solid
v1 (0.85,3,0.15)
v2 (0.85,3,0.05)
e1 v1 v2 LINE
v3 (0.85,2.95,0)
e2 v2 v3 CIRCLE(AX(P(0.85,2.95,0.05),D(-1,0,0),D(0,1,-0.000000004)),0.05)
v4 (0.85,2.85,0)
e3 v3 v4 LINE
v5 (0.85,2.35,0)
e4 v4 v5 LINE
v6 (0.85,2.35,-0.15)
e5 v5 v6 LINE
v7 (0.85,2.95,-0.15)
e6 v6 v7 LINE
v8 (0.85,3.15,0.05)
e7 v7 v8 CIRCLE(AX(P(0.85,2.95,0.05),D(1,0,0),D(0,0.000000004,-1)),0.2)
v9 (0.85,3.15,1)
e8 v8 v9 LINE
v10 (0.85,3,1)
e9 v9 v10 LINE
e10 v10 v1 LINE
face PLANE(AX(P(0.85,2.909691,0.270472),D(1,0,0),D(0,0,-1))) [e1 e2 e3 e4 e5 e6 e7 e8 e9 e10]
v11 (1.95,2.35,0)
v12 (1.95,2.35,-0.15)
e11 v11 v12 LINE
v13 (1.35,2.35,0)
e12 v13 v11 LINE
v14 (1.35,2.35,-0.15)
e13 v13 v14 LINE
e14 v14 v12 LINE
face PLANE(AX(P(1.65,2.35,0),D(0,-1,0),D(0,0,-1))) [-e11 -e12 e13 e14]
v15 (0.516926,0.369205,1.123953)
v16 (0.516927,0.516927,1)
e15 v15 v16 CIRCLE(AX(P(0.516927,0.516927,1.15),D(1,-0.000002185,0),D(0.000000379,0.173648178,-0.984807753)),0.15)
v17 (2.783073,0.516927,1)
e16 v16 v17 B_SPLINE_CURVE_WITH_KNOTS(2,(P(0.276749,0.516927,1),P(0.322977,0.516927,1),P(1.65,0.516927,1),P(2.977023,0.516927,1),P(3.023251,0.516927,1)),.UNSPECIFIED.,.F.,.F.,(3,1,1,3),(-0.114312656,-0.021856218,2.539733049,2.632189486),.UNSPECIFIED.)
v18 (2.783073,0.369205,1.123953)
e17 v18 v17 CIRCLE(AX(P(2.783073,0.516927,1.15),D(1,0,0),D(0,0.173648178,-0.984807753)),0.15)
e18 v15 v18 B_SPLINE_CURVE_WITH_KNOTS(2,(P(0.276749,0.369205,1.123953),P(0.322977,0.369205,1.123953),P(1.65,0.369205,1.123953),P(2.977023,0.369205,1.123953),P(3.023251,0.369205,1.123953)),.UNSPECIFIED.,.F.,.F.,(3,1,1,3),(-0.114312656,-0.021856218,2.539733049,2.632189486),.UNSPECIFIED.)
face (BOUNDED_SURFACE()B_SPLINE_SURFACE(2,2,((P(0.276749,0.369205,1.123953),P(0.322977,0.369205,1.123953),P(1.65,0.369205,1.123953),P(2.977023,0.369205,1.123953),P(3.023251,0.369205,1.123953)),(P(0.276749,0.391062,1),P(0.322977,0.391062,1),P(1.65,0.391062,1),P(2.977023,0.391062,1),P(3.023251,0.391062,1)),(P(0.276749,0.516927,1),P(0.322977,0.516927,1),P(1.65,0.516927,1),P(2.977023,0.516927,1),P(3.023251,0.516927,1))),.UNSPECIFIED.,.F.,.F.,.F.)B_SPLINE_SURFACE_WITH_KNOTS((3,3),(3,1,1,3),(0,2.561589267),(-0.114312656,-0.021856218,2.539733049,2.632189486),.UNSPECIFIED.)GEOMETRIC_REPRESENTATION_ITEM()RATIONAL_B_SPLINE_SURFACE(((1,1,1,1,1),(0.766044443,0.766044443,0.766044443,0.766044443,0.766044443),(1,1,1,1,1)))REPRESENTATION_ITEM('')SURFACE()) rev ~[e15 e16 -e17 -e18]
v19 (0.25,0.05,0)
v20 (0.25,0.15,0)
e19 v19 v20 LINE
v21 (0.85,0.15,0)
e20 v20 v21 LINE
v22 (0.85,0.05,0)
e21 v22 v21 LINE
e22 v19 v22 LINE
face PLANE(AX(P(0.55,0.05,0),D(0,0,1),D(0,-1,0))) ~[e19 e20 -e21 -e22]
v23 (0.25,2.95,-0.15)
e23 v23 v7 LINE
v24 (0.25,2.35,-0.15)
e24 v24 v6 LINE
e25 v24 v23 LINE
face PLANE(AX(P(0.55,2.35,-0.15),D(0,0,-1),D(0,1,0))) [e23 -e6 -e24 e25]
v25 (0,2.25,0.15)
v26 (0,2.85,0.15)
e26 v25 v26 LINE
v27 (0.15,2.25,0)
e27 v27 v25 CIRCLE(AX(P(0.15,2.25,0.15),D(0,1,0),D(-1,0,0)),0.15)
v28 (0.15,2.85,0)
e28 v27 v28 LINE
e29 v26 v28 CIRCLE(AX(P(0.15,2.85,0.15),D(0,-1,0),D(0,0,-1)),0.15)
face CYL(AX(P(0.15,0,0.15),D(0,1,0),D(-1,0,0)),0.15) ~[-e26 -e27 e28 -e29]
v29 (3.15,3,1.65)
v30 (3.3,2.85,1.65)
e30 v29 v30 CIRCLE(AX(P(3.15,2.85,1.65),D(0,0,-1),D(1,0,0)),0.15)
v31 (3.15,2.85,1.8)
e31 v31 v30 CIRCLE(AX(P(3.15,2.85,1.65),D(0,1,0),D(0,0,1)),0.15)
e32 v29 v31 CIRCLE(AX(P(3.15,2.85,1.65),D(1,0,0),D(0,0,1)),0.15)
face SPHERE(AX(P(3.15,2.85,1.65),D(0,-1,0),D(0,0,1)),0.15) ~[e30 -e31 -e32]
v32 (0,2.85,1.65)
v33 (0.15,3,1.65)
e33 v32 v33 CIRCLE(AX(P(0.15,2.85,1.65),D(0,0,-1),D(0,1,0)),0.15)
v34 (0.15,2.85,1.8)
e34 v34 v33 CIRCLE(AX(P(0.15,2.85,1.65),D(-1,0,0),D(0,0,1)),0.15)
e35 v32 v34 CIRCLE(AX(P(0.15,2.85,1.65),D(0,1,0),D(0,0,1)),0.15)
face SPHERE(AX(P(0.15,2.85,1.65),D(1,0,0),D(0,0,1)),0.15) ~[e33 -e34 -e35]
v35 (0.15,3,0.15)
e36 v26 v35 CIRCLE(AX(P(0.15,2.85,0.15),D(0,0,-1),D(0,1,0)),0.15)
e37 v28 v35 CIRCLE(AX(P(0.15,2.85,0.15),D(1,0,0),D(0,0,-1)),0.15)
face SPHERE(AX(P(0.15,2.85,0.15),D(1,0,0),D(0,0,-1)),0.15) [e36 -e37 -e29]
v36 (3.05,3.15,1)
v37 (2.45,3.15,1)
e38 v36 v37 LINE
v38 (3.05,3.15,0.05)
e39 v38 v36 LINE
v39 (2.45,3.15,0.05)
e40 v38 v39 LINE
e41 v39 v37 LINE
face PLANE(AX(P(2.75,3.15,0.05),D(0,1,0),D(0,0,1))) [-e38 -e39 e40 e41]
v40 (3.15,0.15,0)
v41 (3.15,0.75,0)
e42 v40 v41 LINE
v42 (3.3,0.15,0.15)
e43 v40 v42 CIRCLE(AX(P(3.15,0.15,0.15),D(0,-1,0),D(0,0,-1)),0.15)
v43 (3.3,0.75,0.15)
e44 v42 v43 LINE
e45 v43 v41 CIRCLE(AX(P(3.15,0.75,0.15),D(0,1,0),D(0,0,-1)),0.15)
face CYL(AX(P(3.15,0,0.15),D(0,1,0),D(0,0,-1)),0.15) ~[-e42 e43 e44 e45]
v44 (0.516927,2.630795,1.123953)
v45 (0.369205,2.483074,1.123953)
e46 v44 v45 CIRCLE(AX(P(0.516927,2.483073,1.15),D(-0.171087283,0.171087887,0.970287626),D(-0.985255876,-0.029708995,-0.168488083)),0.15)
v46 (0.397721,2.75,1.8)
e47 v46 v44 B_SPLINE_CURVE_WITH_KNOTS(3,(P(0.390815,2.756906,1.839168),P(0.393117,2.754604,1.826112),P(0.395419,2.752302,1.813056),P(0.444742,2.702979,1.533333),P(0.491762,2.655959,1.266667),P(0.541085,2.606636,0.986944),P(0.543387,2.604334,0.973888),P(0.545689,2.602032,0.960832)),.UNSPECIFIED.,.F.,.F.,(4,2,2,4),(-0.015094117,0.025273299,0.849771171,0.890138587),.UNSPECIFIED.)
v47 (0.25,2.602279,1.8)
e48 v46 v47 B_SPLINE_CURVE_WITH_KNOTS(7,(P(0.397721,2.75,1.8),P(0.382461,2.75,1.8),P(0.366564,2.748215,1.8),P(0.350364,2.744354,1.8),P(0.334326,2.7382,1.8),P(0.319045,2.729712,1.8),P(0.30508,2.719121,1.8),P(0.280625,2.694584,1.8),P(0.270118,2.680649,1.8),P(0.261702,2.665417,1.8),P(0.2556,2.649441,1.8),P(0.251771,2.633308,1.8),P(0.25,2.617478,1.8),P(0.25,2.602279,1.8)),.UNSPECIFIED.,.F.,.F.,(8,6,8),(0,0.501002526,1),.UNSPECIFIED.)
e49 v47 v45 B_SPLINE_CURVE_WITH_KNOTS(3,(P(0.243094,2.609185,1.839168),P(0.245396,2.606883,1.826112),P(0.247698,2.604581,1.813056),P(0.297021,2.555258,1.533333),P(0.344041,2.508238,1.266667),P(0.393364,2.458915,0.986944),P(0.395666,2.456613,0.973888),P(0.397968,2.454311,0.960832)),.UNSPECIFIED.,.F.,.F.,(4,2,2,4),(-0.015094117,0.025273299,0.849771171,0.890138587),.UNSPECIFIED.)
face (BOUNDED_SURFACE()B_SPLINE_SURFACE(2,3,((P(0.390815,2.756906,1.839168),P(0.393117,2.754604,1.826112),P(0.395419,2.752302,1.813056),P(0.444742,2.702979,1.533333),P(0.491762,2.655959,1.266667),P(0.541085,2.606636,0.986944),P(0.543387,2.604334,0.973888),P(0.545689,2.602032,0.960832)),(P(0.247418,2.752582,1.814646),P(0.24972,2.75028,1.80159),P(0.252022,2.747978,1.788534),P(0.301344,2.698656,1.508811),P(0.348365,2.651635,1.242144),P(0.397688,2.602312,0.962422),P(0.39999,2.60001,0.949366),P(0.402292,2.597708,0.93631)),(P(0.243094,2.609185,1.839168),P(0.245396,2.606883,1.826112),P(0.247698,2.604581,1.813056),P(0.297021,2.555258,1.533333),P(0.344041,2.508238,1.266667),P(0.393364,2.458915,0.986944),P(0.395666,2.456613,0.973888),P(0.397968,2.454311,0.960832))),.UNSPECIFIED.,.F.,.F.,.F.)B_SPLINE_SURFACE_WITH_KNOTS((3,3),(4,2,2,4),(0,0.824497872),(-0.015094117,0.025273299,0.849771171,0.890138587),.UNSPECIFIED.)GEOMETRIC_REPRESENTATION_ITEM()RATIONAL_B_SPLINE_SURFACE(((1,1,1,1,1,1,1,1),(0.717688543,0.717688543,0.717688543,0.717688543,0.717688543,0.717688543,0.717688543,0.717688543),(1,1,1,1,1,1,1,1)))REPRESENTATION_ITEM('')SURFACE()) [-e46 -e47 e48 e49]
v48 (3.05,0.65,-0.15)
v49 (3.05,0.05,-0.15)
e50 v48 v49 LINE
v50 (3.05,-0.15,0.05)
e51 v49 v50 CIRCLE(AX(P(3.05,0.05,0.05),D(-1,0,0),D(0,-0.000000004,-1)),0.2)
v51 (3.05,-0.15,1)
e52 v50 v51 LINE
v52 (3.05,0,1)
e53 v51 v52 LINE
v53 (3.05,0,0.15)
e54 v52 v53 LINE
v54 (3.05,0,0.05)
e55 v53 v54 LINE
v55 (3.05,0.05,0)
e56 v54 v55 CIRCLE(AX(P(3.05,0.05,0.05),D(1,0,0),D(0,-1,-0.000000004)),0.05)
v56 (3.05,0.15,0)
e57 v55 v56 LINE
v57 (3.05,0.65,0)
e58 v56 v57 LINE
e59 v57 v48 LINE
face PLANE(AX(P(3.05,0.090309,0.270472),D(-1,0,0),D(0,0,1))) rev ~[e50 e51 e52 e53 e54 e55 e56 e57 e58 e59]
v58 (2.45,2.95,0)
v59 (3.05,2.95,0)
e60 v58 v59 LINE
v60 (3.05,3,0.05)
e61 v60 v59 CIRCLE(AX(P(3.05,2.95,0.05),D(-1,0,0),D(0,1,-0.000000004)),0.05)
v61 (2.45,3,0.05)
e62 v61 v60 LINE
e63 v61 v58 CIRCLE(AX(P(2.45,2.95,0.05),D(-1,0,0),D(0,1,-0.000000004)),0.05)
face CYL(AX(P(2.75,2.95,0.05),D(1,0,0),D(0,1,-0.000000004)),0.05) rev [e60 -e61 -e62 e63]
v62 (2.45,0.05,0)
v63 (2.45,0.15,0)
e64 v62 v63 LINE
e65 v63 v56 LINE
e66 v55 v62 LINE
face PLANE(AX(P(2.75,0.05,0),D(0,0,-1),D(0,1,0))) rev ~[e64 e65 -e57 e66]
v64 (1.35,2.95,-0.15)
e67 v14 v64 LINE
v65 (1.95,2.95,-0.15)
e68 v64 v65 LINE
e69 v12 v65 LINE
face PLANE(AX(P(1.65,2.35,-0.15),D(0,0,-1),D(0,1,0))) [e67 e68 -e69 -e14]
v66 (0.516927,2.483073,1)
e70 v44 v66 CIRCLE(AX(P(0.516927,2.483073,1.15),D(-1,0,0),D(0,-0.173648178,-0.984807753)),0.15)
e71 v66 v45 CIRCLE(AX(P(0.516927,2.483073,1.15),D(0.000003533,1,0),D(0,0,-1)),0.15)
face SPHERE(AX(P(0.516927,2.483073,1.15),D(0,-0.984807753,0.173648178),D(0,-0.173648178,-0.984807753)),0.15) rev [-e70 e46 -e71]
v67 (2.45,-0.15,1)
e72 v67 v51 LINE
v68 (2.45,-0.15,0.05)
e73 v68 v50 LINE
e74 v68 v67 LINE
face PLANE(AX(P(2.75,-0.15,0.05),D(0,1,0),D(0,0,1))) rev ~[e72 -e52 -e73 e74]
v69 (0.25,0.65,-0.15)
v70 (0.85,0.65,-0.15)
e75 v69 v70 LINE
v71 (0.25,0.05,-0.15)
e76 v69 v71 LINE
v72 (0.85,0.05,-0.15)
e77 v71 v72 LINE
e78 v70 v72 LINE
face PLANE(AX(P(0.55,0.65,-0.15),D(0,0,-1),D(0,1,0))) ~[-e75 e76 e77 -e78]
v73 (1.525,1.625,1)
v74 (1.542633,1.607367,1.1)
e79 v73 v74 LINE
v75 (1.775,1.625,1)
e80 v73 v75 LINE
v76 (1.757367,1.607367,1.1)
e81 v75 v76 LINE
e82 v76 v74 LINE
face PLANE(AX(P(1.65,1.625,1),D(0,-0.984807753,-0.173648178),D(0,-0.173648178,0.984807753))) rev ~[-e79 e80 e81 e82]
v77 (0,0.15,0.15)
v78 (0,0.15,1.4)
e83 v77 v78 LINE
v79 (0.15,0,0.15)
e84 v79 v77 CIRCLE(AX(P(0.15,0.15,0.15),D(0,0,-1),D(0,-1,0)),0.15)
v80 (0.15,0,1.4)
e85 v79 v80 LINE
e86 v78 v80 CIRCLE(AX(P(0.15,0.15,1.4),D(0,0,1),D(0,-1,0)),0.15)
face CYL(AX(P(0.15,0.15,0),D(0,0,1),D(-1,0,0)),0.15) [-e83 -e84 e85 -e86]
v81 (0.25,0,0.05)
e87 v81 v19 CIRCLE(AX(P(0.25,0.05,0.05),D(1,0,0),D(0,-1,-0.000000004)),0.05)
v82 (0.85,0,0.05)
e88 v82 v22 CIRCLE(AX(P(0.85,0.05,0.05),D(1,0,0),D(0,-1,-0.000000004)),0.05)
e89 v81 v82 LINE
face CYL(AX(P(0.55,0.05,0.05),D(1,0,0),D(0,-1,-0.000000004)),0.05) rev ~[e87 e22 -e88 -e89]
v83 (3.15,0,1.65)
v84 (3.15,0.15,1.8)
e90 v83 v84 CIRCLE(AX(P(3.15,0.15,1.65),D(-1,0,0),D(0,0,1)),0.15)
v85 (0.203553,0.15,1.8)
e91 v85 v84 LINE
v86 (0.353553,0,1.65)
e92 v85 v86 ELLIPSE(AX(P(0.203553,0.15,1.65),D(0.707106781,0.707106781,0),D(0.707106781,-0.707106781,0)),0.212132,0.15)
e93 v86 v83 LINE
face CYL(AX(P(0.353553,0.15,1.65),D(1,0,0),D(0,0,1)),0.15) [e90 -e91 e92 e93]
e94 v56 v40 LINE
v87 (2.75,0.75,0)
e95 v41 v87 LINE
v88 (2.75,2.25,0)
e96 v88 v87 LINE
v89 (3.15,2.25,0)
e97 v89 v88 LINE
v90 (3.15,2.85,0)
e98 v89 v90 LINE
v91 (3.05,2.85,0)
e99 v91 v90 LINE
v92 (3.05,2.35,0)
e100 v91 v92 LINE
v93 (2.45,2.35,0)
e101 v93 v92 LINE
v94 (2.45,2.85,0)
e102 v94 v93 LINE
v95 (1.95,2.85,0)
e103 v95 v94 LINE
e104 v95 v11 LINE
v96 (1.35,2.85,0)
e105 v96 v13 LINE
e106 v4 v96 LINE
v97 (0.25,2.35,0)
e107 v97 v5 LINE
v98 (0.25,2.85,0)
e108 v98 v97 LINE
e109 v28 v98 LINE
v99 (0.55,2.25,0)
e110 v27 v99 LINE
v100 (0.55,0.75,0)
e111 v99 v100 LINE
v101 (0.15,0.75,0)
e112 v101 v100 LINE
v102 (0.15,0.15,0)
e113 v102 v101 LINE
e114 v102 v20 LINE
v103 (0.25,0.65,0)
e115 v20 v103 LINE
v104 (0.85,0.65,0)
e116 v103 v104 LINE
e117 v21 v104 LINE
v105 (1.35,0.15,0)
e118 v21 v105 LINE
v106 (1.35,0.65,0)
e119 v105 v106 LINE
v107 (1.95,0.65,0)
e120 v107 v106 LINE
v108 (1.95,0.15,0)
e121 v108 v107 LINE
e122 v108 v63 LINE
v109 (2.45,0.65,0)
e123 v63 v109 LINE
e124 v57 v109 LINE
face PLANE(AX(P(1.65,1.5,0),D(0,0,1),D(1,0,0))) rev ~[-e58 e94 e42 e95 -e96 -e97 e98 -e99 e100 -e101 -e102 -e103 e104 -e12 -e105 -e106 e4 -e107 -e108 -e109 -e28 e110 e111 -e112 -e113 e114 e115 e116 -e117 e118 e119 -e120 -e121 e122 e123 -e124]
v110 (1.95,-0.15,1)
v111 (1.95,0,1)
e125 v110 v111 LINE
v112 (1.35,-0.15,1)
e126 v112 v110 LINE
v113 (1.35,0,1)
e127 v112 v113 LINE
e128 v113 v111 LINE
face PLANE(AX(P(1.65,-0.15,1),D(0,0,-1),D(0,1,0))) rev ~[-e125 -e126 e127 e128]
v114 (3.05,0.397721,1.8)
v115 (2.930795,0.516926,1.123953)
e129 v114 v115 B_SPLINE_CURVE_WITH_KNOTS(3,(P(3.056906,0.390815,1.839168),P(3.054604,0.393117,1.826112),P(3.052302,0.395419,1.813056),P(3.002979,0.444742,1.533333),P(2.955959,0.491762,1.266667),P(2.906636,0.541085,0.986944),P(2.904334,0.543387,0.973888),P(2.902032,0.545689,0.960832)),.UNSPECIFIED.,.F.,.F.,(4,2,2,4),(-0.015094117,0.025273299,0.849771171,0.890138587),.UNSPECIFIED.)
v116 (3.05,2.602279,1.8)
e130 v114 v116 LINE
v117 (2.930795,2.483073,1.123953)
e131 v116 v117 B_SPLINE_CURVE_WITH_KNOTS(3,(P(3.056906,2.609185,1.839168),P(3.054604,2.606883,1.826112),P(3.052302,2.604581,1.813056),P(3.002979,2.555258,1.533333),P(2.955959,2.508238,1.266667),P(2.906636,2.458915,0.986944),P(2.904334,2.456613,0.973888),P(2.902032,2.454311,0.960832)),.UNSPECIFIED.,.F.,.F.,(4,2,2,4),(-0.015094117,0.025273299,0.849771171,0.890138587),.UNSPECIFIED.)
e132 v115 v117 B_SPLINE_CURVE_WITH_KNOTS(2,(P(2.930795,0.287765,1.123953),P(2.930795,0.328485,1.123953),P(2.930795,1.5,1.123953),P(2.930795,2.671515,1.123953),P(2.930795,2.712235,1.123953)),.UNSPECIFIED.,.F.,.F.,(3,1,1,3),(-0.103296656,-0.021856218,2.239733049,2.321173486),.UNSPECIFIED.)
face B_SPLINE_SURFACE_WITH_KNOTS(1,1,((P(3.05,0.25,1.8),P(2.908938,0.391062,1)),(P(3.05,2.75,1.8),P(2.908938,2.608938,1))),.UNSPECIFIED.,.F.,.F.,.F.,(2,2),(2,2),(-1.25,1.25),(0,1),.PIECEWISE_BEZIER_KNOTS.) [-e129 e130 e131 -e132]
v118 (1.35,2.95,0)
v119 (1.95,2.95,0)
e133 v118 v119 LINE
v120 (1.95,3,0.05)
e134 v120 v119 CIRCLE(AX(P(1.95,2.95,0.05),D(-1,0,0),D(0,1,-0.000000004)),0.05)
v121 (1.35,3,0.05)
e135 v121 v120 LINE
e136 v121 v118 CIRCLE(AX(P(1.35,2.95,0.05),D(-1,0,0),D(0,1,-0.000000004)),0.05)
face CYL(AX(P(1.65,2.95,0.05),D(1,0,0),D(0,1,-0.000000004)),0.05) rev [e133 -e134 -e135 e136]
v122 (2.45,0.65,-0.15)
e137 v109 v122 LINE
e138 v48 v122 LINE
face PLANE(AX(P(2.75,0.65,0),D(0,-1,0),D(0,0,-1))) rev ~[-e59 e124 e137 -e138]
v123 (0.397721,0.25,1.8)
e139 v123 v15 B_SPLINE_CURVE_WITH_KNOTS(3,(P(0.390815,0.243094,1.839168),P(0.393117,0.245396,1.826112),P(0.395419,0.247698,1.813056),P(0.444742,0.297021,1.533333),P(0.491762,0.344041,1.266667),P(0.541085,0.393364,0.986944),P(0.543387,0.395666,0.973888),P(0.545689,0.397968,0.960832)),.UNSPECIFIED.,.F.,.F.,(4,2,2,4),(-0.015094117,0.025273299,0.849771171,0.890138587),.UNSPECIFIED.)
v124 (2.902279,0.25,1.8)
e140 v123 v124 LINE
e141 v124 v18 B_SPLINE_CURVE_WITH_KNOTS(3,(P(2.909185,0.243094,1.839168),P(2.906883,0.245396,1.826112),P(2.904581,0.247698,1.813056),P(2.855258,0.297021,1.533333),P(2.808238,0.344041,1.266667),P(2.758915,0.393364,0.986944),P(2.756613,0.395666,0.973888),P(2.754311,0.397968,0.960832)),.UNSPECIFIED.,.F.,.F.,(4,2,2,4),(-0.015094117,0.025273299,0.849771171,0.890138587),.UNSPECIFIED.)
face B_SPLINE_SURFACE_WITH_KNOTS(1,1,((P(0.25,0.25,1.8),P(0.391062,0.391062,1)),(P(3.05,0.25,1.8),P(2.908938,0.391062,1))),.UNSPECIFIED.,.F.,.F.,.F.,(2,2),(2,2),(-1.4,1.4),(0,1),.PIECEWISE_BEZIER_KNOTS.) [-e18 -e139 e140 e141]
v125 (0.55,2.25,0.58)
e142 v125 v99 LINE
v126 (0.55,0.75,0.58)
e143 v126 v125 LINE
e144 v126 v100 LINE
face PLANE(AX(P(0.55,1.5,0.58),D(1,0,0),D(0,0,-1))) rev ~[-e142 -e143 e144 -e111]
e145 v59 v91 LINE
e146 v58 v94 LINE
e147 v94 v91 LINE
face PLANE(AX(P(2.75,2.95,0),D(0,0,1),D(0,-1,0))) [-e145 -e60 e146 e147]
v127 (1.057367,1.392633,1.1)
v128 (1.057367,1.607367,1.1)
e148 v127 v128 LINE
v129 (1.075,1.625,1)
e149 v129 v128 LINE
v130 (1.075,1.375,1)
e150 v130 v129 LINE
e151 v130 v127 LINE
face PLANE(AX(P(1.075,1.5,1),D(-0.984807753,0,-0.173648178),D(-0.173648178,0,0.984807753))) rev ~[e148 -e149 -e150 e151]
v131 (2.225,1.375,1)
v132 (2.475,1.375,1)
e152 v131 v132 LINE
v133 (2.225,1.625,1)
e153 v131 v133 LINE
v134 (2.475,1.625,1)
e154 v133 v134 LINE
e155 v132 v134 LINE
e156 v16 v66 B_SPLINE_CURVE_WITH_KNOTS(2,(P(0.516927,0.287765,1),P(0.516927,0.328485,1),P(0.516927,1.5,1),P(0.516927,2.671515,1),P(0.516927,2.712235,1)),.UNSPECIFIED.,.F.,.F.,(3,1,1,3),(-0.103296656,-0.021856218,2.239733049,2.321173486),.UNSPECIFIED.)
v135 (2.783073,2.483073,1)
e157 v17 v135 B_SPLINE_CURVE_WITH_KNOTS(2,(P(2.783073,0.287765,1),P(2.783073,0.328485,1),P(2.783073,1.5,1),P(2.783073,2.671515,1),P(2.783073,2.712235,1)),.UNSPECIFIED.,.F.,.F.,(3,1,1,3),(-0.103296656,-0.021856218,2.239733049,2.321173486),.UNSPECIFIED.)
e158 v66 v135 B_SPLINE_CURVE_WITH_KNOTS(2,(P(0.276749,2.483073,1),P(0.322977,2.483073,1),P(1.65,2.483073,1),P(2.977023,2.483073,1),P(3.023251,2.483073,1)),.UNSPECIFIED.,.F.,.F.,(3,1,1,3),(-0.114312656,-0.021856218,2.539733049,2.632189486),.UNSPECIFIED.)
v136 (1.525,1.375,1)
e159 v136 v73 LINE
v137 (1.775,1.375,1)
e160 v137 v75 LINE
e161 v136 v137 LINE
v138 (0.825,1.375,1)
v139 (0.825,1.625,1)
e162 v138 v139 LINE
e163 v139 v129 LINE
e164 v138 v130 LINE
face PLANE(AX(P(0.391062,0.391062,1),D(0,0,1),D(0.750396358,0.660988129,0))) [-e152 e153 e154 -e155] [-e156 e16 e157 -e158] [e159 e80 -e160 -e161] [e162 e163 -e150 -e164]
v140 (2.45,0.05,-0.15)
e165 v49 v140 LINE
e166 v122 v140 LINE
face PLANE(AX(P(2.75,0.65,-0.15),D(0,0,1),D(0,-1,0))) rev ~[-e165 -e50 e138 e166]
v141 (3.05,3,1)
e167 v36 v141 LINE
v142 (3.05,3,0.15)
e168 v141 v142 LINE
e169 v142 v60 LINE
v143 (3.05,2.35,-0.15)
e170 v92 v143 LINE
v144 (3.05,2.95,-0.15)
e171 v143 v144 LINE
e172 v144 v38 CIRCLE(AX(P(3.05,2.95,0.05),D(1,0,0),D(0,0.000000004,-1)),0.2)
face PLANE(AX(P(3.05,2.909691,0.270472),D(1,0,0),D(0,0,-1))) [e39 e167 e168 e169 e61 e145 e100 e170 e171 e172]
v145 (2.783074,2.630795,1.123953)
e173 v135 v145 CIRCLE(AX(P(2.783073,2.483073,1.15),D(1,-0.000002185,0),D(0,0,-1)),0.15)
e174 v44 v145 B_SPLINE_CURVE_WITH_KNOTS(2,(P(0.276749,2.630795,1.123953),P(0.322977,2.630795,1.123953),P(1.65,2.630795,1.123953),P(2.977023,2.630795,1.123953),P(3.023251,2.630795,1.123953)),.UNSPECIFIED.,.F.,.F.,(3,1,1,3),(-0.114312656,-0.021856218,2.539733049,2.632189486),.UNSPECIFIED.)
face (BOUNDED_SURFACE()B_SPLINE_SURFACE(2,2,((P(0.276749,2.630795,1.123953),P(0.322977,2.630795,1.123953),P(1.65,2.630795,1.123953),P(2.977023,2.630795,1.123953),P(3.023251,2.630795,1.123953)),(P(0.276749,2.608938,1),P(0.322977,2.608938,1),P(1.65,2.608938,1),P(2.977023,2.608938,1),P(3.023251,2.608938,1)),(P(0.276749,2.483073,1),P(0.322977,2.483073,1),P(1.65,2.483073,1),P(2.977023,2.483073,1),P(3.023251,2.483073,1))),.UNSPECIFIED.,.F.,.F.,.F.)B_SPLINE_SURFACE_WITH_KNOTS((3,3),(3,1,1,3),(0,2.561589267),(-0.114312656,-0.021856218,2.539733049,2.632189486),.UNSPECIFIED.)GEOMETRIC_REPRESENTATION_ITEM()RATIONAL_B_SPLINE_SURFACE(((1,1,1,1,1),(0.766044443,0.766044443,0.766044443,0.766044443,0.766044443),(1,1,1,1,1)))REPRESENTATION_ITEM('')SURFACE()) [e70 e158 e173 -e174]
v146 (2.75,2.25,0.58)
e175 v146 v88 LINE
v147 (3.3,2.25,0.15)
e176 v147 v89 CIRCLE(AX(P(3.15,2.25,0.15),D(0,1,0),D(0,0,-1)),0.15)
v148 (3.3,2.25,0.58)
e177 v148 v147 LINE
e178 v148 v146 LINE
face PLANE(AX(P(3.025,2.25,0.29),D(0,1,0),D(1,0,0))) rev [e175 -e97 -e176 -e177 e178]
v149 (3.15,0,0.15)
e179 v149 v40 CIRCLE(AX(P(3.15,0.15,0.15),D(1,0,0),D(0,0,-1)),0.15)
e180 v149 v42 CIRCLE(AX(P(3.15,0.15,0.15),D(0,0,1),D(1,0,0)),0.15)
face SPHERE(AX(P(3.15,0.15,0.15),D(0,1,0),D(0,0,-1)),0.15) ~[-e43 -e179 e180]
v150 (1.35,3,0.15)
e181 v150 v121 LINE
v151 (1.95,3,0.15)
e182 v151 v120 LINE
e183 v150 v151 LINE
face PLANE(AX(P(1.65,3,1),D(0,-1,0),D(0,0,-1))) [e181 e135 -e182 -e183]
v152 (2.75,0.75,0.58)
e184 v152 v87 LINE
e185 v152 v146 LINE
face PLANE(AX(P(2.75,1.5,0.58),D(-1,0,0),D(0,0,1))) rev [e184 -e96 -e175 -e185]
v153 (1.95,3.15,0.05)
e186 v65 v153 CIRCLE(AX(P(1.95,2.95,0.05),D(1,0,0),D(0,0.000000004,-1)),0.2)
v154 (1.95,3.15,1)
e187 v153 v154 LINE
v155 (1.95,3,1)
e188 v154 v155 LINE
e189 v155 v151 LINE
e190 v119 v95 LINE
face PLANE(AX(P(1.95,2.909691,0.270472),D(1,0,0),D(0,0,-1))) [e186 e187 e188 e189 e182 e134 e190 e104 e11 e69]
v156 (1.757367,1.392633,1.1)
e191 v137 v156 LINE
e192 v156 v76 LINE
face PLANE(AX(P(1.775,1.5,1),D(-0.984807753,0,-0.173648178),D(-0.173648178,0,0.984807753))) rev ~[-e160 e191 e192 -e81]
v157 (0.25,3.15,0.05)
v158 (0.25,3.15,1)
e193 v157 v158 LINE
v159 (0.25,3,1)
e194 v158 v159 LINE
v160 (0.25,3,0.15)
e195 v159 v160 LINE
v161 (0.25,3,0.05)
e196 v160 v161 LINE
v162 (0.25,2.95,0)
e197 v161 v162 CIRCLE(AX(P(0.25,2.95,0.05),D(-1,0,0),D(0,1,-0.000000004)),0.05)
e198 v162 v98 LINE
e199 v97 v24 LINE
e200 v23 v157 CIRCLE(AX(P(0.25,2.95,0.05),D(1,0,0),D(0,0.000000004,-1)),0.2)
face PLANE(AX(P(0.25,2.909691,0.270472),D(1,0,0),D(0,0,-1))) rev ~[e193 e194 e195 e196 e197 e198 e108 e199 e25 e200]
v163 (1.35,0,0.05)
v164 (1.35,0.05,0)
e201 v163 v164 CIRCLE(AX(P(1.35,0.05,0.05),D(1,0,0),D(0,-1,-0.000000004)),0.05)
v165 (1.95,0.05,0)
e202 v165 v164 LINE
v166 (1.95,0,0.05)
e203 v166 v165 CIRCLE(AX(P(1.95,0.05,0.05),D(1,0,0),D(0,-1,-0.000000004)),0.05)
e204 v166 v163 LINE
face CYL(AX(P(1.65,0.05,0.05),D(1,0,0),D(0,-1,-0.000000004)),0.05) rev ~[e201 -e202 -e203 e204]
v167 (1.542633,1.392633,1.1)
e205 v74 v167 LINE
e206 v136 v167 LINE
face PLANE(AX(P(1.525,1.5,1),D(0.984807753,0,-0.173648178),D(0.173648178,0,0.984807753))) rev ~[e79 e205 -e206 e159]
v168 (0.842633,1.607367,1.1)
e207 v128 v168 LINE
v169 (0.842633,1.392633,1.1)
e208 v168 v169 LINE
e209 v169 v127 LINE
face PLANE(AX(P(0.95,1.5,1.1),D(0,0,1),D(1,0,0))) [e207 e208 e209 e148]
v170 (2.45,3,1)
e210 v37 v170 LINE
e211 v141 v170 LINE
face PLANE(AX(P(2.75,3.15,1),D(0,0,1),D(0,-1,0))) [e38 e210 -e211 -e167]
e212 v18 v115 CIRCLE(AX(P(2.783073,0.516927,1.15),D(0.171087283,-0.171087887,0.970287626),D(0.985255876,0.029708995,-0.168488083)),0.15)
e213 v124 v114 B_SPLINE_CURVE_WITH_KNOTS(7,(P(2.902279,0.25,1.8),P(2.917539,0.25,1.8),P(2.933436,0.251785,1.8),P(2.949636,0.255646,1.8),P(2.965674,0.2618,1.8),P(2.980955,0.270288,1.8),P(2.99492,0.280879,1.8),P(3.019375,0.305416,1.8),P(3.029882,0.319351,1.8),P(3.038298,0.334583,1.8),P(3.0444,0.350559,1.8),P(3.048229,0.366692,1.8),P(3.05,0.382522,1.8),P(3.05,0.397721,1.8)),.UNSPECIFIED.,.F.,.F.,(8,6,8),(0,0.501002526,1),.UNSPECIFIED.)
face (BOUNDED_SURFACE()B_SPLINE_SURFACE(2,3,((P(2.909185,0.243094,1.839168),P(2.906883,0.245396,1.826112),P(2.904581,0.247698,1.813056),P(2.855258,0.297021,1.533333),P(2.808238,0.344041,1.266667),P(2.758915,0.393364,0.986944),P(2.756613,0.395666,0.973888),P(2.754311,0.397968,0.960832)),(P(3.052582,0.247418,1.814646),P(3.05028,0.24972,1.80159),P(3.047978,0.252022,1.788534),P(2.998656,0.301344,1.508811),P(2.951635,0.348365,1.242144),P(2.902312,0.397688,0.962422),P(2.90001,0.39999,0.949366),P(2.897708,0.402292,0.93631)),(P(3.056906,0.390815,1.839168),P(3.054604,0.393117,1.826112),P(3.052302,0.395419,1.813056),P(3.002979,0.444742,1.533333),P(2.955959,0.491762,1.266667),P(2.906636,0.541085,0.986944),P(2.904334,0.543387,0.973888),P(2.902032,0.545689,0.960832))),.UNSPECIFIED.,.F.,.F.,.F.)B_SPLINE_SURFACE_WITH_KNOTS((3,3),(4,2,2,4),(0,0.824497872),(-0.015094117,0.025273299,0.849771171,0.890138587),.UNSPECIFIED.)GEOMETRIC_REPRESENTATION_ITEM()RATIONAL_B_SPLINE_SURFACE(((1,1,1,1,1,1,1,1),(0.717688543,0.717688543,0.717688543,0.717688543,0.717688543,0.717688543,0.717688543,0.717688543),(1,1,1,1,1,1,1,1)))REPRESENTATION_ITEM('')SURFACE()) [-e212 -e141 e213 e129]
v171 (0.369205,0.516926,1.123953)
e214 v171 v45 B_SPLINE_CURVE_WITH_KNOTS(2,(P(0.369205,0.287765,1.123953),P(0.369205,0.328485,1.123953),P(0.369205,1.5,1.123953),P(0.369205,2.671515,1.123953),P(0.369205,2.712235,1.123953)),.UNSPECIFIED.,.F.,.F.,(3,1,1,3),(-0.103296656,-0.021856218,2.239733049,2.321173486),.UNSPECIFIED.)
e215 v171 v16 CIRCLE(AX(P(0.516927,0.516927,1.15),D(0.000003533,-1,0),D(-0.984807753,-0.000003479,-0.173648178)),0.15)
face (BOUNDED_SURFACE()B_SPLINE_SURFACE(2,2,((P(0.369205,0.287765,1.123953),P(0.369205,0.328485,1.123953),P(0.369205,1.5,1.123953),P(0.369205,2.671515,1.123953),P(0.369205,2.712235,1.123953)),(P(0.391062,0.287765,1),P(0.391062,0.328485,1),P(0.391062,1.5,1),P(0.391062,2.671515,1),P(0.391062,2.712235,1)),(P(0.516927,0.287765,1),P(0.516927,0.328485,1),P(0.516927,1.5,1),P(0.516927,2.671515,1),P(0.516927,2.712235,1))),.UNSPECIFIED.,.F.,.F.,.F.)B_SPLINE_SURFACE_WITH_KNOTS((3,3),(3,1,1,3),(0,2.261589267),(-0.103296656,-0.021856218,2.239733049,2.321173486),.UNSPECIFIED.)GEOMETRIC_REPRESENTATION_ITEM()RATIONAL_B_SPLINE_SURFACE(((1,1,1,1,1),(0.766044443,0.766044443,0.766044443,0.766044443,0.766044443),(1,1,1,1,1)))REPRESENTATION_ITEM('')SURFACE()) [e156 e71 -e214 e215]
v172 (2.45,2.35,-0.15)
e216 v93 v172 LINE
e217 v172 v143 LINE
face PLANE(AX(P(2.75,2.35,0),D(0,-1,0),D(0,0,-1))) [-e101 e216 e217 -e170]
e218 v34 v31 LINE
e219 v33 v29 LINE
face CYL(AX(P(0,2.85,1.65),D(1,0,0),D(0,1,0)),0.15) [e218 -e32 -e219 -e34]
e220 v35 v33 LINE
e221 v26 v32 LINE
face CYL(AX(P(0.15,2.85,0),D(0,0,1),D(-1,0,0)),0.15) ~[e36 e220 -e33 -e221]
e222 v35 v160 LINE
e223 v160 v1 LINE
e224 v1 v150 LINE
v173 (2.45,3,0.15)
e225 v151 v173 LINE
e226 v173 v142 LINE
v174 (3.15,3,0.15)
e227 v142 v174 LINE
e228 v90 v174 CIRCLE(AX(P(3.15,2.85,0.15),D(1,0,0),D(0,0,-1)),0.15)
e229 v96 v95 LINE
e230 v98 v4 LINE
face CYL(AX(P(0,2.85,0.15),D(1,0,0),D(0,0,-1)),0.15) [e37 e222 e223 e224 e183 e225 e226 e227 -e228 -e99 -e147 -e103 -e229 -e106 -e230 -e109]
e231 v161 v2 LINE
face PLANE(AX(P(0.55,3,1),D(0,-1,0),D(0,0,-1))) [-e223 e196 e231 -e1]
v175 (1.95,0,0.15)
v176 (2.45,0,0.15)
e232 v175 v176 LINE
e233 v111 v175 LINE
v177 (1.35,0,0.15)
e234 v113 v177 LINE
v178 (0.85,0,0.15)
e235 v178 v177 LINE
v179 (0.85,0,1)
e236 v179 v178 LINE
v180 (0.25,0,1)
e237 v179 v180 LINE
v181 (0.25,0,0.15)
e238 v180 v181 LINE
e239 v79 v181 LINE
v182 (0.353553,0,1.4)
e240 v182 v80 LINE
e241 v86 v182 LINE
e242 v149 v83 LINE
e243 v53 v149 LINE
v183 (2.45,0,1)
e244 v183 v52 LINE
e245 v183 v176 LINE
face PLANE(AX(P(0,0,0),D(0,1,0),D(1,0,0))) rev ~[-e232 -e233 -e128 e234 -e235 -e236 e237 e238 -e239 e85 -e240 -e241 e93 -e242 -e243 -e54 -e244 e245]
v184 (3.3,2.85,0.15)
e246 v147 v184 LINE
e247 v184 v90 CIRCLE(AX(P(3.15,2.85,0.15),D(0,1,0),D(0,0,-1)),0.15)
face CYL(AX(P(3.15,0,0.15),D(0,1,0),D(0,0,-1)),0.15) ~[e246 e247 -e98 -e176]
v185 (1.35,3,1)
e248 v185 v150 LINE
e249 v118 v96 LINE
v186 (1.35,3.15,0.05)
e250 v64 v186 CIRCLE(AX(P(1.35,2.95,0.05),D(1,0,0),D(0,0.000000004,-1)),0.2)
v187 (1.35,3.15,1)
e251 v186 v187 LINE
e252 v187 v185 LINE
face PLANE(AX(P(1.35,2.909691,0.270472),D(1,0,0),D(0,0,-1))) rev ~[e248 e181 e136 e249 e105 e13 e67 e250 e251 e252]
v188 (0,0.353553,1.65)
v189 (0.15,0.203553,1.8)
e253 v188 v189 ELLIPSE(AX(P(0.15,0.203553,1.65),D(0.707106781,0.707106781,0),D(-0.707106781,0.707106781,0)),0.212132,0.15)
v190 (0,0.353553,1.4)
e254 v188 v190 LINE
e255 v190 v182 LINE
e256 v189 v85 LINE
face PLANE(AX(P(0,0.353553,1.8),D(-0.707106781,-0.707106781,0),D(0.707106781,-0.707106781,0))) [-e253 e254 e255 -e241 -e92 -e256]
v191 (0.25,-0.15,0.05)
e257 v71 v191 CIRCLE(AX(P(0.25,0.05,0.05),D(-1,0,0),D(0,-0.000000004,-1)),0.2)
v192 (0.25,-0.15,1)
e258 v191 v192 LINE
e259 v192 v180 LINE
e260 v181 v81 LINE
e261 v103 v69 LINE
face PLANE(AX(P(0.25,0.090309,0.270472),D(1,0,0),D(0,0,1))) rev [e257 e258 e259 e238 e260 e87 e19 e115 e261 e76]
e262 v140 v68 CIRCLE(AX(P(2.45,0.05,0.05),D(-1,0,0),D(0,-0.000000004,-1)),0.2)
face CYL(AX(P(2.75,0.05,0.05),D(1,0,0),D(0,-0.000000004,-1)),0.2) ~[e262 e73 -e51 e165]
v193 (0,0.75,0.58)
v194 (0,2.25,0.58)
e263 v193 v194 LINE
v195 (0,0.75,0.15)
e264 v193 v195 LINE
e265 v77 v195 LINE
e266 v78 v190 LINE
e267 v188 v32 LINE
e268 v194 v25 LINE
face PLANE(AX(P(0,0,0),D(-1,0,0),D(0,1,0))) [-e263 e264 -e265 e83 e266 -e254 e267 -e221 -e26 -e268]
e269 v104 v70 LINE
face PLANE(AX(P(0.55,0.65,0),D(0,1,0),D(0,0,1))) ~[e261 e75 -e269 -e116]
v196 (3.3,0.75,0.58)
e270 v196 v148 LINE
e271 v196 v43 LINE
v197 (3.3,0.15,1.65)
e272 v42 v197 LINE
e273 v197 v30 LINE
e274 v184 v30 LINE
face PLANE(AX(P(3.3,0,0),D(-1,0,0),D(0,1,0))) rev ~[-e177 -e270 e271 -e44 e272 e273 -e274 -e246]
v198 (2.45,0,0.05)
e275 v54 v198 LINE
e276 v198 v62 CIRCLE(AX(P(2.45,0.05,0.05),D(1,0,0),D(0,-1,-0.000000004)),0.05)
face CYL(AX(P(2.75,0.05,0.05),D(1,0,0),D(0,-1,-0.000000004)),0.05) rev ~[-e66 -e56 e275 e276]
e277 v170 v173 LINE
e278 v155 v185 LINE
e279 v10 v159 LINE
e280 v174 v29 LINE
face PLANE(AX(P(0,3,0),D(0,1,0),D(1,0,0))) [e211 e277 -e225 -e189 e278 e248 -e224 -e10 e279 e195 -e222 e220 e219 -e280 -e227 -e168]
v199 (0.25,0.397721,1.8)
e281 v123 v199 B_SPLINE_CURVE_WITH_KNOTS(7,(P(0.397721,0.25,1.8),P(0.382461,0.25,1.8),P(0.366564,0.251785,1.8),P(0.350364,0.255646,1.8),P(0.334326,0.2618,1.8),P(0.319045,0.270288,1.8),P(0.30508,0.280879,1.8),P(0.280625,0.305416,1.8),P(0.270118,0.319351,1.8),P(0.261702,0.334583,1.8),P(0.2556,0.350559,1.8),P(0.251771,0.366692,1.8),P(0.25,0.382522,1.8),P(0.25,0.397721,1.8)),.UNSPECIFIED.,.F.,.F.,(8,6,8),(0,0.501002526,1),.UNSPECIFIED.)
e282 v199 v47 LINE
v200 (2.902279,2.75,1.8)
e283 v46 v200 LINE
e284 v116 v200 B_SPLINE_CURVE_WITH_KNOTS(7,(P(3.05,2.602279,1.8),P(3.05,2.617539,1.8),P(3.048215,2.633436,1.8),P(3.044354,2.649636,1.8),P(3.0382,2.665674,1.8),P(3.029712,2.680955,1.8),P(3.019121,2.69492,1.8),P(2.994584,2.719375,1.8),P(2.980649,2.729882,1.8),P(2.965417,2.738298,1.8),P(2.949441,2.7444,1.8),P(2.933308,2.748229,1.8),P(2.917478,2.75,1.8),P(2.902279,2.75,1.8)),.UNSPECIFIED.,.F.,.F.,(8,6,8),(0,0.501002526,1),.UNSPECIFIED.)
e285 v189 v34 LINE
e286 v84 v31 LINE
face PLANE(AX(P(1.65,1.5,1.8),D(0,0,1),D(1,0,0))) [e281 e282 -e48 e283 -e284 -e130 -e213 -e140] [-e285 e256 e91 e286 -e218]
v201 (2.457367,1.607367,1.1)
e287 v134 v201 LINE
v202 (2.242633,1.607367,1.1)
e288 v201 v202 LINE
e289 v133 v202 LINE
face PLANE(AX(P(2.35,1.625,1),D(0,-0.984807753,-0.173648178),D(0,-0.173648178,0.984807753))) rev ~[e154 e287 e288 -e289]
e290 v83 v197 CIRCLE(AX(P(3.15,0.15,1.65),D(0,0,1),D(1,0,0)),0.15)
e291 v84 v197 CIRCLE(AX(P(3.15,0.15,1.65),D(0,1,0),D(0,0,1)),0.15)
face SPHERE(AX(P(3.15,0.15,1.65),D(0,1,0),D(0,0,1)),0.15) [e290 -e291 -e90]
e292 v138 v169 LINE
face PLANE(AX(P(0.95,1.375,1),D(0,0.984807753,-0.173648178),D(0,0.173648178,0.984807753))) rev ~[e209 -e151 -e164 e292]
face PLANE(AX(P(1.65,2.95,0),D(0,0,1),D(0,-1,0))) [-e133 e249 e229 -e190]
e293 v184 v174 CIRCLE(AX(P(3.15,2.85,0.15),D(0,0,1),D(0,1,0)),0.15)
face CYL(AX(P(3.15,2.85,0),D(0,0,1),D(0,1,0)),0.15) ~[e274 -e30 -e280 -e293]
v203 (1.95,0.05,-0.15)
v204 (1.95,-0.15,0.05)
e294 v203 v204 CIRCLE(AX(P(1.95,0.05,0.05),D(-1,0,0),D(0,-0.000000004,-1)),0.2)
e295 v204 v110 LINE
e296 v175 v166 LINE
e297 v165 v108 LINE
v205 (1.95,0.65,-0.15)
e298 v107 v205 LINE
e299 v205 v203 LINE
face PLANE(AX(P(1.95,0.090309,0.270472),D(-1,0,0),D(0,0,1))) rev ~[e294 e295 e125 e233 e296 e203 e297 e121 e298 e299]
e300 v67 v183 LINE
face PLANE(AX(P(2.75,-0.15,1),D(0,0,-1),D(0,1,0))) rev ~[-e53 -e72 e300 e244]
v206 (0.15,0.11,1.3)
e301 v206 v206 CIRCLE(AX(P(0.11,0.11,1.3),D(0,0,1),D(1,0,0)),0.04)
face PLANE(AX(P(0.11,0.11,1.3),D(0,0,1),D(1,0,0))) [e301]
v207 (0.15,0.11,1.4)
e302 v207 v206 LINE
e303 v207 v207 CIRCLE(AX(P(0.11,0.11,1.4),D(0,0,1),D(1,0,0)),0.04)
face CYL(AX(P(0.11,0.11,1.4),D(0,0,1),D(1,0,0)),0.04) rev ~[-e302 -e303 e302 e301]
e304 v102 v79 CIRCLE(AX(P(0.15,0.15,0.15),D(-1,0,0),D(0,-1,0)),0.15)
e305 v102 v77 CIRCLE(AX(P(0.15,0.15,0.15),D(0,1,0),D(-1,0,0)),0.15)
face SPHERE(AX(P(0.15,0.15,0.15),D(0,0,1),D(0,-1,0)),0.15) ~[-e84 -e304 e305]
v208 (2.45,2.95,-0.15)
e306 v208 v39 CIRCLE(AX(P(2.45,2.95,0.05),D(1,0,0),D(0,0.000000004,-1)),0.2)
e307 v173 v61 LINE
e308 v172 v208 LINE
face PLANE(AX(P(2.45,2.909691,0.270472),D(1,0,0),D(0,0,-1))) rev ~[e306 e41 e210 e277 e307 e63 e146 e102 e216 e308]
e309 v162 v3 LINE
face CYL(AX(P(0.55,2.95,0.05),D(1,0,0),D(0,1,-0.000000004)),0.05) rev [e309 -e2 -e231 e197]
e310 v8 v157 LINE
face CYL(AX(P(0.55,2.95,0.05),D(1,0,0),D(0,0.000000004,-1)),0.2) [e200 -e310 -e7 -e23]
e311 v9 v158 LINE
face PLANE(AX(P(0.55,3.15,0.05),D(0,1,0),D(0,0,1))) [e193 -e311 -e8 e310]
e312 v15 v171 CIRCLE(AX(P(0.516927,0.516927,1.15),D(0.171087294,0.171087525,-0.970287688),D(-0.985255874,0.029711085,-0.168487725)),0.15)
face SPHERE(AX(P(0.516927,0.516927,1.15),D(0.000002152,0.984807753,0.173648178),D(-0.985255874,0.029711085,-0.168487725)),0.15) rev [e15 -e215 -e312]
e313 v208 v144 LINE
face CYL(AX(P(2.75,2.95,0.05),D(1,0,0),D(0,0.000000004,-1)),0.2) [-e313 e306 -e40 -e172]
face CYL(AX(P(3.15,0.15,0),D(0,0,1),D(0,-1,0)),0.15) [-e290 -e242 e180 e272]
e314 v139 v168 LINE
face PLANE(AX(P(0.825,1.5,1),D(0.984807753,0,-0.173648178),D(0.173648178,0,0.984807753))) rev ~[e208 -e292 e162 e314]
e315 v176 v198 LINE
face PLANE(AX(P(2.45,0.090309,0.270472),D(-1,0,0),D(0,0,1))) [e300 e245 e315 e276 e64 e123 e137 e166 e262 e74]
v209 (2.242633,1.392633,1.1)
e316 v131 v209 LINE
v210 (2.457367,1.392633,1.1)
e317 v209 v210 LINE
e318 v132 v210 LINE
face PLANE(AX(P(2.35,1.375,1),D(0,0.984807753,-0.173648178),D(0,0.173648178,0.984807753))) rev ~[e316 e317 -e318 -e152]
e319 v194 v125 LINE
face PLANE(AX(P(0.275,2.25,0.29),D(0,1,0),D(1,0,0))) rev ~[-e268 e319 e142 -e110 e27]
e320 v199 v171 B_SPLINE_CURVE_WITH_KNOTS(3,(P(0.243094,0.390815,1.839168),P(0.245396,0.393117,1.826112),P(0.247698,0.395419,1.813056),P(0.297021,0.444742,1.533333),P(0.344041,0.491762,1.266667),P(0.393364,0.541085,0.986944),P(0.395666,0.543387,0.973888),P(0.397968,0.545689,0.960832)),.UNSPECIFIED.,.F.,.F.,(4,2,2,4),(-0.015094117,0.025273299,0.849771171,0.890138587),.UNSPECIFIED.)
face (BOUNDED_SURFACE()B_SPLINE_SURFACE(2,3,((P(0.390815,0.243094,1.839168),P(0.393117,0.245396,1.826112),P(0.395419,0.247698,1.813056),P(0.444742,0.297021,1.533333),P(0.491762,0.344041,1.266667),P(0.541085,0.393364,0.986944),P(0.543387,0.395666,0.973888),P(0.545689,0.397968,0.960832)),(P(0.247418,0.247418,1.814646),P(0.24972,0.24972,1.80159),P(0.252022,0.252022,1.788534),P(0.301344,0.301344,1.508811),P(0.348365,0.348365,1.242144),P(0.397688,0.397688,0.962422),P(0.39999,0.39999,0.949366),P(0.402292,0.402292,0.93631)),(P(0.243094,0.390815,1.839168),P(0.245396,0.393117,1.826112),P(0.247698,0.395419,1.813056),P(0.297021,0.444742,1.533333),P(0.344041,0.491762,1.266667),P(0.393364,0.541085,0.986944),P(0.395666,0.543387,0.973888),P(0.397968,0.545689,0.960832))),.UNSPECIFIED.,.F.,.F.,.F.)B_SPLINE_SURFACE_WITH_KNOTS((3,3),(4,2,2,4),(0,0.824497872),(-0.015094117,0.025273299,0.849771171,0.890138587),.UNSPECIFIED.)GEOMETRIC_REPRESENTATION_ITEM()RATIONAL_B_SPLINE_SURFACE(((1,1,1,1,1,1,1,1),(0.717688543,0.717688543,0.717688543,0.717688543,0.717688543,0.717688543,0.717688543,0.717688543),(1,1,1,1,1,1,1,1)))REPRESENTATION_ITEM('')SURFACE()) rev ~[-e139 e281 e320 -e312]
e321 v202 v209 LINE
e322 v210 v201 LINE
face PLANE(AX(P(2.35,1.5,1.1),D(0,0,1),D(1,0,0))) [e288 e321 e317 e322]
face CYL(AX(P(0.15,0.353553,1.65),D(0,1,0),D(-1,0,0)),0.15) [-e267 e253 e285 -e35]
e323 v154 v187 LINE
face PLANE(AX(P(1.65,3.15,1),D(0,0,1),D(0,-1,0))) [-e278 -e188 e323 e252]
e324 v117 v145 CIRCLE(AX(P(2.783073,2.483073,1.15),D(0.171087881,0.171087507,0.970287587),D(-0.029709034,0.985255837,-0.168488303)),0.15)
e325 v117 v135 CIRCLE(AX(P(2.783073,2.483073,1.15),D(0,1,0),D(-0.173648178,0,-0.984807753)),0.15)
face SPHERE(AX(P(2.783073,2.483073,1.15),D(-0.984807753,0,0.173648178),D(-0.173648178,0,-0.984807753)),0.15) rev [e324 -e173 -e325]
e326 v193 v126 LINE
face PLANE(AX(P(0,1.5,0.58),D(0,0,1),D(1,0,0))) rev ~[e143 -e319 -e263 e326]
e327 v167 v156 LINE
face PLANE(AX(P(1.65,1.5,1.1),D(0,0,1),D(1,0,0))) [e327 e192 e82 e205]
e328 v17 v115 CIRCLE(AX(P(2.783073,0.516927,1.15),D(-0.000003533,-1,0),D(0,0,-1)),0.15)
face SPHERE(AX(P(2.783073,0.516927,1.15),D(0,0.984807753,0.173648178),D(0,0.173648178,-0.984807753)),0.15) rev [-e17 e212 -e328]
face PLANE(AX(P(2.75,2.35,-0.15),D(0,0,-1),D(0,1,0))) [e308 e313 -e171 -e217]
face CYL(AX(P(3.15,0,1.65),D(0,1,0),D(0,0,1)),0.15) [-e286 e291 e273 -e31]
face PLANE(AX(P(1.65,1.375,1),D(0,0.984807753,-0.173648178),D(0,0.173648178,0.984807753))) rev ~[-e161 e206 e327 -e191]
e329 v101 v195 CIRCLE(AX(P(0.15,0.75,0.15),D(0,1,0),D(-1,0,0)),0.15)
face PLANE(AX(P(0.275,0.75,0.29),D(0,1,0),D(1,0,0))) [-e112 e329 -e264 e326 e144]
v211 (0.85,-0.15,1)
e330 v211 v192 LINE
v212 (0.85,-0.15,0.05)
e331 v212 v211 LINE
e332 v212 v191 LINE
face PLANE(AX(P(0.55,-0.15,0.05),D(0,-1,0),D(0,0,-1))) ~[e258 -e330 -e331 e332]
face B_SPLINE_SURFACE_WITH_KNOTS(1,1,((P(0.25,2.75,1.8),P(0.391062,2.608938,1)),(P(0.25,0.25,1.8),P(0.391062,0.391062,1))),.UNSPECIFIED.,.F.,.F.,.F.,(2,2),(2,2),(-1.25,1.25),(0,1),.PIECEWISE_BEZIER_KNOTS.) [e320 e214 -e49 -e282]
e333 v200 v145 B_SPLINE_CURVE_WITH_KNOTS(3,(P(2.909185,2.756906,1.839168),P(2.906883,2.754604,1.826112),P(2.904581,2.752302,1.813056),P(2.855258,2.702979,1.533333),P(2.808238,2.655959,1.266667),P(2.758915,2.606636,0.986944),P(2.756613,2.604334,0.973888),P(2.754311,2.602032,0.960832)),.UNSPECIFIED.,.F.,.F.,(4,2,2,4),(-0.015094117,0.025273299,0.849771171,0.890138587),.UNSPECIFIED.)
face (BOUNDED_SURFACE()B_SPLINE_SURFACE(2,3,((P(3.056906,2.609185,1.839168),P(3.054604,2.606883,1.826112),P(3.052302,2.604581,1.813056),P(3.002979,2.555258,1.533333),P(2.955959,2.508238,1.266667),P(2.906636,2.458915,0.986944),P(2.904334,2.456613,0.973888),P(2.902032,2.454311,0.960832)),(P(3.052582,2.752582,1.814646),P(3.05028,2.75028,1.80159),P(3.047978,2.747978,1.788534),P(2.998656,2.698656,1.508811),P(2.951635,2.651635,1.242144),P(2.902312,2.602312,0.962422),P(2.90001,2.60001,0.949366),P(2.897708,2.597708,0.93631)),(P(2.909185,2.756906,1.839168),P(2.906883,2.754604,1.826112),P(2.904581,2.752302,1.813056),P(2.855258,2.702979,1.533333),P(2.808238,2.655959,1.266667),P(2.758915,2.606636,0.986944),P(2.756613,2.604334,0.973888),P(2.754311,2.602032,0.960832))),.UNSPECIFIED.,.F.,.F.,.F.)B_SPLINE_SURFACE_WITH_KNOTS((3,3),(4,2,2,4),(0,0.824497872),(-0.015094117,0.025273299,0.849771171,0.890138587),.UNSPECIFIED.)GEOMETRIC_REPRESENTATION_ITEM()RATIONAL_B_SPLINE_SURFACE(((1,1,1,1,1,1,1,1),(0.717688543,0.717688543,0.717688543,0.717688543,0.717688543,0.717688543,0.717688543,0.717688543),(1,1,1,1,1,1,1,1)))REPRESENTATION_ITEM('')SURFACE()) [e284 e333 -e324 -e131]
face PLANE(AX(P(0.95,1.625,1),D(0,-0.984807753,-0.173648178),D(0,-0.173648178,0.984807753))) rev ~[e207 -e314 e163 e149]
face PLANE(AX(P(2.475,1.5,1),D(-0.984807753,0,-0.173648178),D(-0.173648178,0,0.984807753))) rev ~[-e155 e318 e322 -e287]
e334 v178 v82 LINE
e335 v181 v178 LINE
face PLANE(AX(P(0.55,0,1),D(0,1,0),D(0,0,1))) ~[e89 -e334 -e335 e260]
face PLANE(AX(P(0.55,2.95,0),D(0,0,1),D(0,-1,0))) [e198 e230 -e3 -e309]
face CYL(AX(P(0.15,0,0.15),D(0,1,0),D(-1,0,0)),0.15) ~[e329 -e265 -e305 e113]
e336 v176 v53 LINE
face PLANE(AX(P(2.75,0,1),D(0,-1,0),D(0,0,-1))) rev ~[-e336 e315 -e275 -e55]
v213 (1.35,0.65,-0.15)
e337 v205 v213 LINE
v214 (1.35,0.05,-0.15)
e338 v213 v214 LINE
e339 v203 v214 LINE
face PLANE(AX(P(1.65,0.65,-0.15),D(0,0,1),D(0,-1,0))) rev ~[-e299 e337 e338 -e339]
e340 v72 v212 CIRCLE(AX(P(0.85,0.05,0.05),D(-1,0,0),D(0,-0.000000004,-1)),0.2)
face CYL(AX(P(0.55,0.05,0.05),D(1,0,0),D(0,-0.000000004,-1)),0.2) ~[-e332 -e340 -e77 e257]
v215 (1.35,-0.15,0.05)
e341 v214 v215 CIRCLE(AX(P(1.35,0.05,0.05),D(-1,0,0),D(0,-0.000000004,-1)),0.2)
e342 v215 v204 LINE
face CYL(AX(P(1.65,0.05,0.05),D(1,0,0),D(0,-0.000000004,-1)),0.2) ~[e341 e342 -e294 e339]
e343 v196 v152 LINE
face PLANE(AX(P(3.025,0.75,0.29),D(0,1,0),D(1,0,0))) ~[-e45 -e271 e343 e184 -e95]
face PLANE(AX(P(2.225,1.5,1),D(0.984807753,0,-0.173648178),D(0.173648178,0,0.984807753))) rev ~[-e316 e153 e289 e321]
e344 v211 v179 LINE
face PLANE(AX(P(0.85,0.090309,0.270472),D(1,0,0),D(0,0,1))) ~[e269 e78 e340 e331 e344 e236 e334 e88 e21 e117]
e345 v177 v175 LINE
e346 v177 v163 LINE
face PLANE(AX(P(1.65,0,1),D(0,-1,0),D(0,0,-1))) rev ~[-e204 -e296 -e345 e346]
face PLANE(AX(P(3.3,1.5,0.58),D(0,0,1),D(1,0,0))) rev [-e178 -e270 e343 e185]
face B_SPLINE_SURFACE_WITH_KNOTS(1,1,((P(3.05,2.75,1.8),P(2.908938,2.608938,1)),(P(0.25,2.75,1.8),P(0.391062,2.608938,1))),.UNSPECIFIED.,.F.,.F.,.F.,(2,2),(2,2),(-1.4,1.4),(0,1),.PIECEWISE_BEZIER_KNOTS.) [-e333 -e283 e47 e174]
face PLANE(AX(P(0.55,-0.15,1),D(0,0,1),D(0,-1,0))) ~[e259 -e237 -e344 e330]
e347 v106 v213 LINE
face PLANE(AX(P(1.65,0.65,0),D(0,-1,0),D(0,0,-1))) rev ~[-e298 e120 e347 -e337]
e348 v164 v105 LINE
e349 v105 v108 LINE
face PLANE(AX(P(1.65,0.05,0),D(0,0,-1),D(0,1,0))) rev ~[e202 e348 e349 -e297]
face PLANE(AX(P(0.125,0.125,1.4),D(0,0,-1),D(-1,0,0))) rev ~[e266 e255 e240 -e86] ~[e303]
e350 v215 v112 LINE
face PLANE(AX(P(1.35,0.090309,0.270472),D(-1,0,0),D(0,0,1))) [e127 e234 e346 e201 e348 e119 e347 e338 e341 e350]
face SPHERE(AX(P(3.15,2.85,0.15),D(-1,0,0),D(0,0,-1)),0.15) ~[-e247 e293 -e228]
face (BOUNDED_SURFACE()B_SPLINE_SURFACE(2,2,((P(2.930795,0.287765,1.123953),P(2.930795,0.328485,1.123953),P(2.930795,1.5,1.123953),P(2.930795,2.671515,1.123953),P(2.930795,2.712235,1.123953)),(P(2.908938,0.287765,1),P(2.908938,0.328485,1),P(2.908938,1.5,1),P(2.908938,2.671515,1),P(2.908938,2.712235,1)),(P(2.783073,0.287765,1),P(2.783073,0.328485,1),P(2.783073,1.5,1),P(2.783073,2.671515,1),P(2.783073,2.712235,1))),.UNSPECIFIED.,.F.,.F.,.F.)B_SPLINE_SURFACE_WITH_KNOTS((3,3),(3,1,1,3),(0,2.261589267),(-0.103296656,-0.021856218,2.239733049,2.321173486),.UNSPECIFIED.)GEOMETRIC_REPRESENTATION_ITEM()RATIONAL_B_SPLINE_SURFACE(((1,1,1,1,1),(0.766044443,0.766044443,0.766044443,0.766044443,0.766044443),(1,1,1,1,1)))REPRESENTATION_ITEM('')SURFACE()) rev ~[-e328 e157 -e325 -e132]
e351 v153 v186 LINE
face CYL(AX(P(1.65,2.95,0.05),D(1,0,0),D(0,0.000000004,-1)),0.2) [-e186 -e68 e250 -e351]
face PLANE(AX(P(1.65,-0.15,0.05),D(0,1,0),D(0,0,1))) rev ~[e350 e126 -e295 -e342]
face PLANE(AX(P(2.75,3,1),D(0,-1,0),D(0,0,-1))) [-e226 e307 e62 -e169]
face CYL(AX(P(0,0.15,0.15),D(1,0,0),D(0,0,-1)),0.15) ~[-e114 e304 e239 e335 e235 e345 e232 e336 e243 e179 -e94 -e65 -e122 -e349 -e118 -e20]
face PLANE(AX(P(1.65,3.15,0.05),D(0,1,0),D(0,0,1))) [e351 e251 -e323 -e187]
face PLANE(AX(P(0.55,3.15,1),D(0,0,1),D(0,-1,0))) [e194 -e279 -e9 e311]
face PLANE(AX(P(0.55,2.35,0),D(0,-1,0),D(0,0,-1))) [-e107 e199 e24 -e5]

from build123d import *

# Parameters (mm, degrees)
SKETCH1_W            = 3.3
SKETCH1_H            = 3
BOSS_EXTRUDE1_DEPTH  = 1.8
CUT_EXTRUDE2_DEPTH   = 0.4
SKETCH2_W            = 2.8
SKETCH2_H            = 2.5
CUT_EXTRUDE1_DEPTH   = 0.8
CUT_EXTRUDE1_TAPER   = 10
FILLET1_R            = 0.15
EXTRUDE_THIN1_DEPTH  = 0.3
LPATTERN1_COUNT      = 3
LPATTERN1_PITCH      = 1.1
MIRROR1_COPY_1_DEPTH = 0.3
MIRROR1_COPY_2_DEPTH = 0.3
SKETCH5_R            = 0.04
CUT_EXTRUDE3_DEPTH   = 0.1
SKETCH6_W            = 0.25
SKETCH6_H            = 0.25
BOSS_EXTRUDE2_DEPTH  = 0.1
BOSS_EXTRUDE2_TAPER  = 10
LPATTERN2_COUNT      = 3
LPATTERN2_PITCH      = 0.7
SKETCH7_W            = 0.55
SKETCH7_H            = 0.58
CUT_EXTRUDE4_DEPTH   = 0.75


with BuildPart() as part:
    # Sketch1 → Boss-Extrude1 (new body)
    with BuildSketch(Plane.XY):
        with Locations((1.65, 1.5)):
            Rectangle(SKETCH1_W, SKETCH1_H)
    extrude(amount=BOSS_EXTRUDE1_DEPTH)

    # Sketch4 → Cut-Extrude2 (cut)
    with BuildSketch(Plane.XY.offset(1.8)):
        Polygon((0, 0.353553391), (0.353553391, 0), (0, 0), align=None)
    extrude(amount=-CUT_EXTRUDE2_DEPTH, mode=Mode.SUBTRACT)

    # Sketch2 → Cut-Extrude1 (cut)
    with BuildSketch(Plane.XY.offset(1.8)):
        with Locations((1.65, 1.5)):
            Rectangle(SKETCH2_W, SKETCH2_H)
    extrude(amount=-CUT_EXTRUDE1_DEPTH, taper=CUT_EXTRUDE1_TAPER, mode=Mode.SUBTRACT)

    # Fillet1
    fillet1_edges = [part.edges().sort_by_distance(p)[0] for p in [
        (3.3, 1.5, 1.8),
        (1.65, 3, 1.8),
        (1.826776695, 0, 1.8),
        (0, 0, 0.7),
        (0.391061585, 1.5, 1),
        (0.320530792, 0.320530792, 1.4),
        (1.65, 2.608938415, 1),
        (0.320530792, 2.679469208, 1.4),
        (2.908938415, 1.5, 1),
        (2.979469208, 2.679469208, 1.4),
        (1.65, 0.391061585, 1),
        (2.979469208, 0.320530792, 1.4),
        (0, 1.676776695, 1.8),
        (1.65, 3, 0),
        (3.3, 1.5, 0),
        (1.65, 0, 0),
        (0, 1.5, 0),
        (0, 3, 0.9),
        (3.3, 3, 0.9),
        (3.3, 0, 0.9),
    ]]
    fillet(fillet1_edges, radius=FILLET1_R)

    # Sketch3 → Extrude-Thin1 (add, symmetric)
    with BuildSketch(Plane(origin=(0.55, 0, 0), x_dir=(0, 0, -1), z_dir=(1, 0, 0))):
        with BuildLine():
            Line((-1, 3), (-0.05, 3))
            ThreePointArc((-0.05, 3), (-0.014644661, 2.985355339), (0, 2.95))
            Line((0, 2.95), (0, 2.35))
            Line((0, 2.35), (0.15, 2.35))
            Line((0.15, 2.35), (0.15, 2.95))
            ThreePointArc((0.15, 2.95), (0.091421356, 3.091421356), (-0.05, 3.15))
            Line((-0.05, 3.15), (-1, 3.15))
            Line((-1, 3.15), (-1, 3))
        make_face()
    extrude_thin1 = extrude(amount=EXTRUDE_THIN1_DEPTH, both=True)

    # LPattern1: Extrude-Thin1 ×3
    with Locations(*[(i * LPATTERN1_PITCH, 0, 0) for i in range(1, LPATTERN1_COUNT)]):
        add(extrude_thin1)

    # Mirror1: Extrude-Thin1 across plane
    add(extrude_thin1.mirror(Plane.ZX.offset(1.5)))

    # Mirror1 copy 1 sketch → Mirror1 copy 1 (add, symmetric)
    with BuildSketch(Plane(origin=(1.65, 3, 0), x_dir=(0, 0, -1), z_dir=(1, 0, 0))):
        with BuildLine():
            Line((-1, -3), (-0.05, -3))
            ThreePointArc((-0.05, -3), (-0.014644661, -2.985355339), (0, -2.95))
            Line((0, -2.95), (0, -2.35))
            Line((0, -2.35), (0.15, -2.35))
            Line((0.15, -2.35), (0.15, -2.95))
            ThreePointArc((0.15, -2.95), (0.091421356, -3.091421356), (-0.05, -3.15))
            Line((-0.05, -3.15), (-1, -3.15))
            Line((-1, -3.15), (-1, -3))
        make_face()
    extrude(amount=MIRROR1_COPY_1_DEPTH, both=True)

    # Mirror1 copy 2 sketch → Mirror1 copy 2 (add, symmetric)
    with BuildSketch(Plane(origin=(2.75, 3, 0), x_dir=(0, 0, -1), z_dir=(1, 0, 0))):
        with BuildLine():
            Line((-1, -3), (-0.05, -3))
            ThreePointArc((-0.05, -3), (-0.014644661, -2.985355339), (0, -2.95))
            Line((0, -2.95), (0, -2.35))
            Line((0, -2.35), (0.15, -2.35))
            Line((0.15, -2.35), (0.15, -2.95))
            ThreePointArc((0.15, -2.95), (0.091421356, -3.091421356), (-0.05, -3.15))
            Line((-0.05, -3.15), (-1, -3.15))
            Line((-1, -3.15), (-1, -3))
        make_face()
    extrude(amount=MIRROR1_COPY_2_DEPTH, both=True)

    # Sketch5 → Cut-Extrude3 (cut)
    with BuildSketch(Plane.XY.offset(1.4)):
        with Locations((0.11, 0.11)):
            Circle(SKETCH5_R)
    extrude(amount=-CUT_EXTRUDE3_DEPTH, mode=Mode.SUBTRACT)

    # Sketch6 → Boss-Extrude2 (add)
    with BuildSketch(Plane.XY.offset(1)):
        with Locations((0.95, 1.5)):
            Rectangle(SKETCH6_W, SKETCH6_H)
    boss_extrude2 = extrude(amount=BOSS_EXTRUDE2_DEPTH, taper=BOSS_EXTRUDE2_TAPER)

    # LPattern2: Boss-Extrude2 ×3
    with Locations(*[(i * LPATTERN2_PITCH, 0, 0) for i in range(1, LPATTERN2_COUNT)]):
        add(boss_extrude2)

    # Sketch7 → Cut-Extrude4 (cut, symmetric)
    with BuildSketch(Plane(origin=(0, 1.5, 0), x_dir=(1, 0, 0), z_dir=(0, 1, 0))):
        with Locations((0.275, -0.29)):
            Rectangle(SKETCH7_W, SKETCH7_H)
    cut_extrude4 = extrude(amount=CUT_EXTRUDE4_DEPTH, both=True, mode=Mode.SUBTRACT)

    # Mirror2: Cut-Extrude4 across plane
    add(cut_extrude4.mirror(Plane(origin=(1.65, 0, 0), x_dir=(0, 0, 1), z_dir=(1, 0, 0))), mode=Mode.SUBTRACT)


solid = part.part
